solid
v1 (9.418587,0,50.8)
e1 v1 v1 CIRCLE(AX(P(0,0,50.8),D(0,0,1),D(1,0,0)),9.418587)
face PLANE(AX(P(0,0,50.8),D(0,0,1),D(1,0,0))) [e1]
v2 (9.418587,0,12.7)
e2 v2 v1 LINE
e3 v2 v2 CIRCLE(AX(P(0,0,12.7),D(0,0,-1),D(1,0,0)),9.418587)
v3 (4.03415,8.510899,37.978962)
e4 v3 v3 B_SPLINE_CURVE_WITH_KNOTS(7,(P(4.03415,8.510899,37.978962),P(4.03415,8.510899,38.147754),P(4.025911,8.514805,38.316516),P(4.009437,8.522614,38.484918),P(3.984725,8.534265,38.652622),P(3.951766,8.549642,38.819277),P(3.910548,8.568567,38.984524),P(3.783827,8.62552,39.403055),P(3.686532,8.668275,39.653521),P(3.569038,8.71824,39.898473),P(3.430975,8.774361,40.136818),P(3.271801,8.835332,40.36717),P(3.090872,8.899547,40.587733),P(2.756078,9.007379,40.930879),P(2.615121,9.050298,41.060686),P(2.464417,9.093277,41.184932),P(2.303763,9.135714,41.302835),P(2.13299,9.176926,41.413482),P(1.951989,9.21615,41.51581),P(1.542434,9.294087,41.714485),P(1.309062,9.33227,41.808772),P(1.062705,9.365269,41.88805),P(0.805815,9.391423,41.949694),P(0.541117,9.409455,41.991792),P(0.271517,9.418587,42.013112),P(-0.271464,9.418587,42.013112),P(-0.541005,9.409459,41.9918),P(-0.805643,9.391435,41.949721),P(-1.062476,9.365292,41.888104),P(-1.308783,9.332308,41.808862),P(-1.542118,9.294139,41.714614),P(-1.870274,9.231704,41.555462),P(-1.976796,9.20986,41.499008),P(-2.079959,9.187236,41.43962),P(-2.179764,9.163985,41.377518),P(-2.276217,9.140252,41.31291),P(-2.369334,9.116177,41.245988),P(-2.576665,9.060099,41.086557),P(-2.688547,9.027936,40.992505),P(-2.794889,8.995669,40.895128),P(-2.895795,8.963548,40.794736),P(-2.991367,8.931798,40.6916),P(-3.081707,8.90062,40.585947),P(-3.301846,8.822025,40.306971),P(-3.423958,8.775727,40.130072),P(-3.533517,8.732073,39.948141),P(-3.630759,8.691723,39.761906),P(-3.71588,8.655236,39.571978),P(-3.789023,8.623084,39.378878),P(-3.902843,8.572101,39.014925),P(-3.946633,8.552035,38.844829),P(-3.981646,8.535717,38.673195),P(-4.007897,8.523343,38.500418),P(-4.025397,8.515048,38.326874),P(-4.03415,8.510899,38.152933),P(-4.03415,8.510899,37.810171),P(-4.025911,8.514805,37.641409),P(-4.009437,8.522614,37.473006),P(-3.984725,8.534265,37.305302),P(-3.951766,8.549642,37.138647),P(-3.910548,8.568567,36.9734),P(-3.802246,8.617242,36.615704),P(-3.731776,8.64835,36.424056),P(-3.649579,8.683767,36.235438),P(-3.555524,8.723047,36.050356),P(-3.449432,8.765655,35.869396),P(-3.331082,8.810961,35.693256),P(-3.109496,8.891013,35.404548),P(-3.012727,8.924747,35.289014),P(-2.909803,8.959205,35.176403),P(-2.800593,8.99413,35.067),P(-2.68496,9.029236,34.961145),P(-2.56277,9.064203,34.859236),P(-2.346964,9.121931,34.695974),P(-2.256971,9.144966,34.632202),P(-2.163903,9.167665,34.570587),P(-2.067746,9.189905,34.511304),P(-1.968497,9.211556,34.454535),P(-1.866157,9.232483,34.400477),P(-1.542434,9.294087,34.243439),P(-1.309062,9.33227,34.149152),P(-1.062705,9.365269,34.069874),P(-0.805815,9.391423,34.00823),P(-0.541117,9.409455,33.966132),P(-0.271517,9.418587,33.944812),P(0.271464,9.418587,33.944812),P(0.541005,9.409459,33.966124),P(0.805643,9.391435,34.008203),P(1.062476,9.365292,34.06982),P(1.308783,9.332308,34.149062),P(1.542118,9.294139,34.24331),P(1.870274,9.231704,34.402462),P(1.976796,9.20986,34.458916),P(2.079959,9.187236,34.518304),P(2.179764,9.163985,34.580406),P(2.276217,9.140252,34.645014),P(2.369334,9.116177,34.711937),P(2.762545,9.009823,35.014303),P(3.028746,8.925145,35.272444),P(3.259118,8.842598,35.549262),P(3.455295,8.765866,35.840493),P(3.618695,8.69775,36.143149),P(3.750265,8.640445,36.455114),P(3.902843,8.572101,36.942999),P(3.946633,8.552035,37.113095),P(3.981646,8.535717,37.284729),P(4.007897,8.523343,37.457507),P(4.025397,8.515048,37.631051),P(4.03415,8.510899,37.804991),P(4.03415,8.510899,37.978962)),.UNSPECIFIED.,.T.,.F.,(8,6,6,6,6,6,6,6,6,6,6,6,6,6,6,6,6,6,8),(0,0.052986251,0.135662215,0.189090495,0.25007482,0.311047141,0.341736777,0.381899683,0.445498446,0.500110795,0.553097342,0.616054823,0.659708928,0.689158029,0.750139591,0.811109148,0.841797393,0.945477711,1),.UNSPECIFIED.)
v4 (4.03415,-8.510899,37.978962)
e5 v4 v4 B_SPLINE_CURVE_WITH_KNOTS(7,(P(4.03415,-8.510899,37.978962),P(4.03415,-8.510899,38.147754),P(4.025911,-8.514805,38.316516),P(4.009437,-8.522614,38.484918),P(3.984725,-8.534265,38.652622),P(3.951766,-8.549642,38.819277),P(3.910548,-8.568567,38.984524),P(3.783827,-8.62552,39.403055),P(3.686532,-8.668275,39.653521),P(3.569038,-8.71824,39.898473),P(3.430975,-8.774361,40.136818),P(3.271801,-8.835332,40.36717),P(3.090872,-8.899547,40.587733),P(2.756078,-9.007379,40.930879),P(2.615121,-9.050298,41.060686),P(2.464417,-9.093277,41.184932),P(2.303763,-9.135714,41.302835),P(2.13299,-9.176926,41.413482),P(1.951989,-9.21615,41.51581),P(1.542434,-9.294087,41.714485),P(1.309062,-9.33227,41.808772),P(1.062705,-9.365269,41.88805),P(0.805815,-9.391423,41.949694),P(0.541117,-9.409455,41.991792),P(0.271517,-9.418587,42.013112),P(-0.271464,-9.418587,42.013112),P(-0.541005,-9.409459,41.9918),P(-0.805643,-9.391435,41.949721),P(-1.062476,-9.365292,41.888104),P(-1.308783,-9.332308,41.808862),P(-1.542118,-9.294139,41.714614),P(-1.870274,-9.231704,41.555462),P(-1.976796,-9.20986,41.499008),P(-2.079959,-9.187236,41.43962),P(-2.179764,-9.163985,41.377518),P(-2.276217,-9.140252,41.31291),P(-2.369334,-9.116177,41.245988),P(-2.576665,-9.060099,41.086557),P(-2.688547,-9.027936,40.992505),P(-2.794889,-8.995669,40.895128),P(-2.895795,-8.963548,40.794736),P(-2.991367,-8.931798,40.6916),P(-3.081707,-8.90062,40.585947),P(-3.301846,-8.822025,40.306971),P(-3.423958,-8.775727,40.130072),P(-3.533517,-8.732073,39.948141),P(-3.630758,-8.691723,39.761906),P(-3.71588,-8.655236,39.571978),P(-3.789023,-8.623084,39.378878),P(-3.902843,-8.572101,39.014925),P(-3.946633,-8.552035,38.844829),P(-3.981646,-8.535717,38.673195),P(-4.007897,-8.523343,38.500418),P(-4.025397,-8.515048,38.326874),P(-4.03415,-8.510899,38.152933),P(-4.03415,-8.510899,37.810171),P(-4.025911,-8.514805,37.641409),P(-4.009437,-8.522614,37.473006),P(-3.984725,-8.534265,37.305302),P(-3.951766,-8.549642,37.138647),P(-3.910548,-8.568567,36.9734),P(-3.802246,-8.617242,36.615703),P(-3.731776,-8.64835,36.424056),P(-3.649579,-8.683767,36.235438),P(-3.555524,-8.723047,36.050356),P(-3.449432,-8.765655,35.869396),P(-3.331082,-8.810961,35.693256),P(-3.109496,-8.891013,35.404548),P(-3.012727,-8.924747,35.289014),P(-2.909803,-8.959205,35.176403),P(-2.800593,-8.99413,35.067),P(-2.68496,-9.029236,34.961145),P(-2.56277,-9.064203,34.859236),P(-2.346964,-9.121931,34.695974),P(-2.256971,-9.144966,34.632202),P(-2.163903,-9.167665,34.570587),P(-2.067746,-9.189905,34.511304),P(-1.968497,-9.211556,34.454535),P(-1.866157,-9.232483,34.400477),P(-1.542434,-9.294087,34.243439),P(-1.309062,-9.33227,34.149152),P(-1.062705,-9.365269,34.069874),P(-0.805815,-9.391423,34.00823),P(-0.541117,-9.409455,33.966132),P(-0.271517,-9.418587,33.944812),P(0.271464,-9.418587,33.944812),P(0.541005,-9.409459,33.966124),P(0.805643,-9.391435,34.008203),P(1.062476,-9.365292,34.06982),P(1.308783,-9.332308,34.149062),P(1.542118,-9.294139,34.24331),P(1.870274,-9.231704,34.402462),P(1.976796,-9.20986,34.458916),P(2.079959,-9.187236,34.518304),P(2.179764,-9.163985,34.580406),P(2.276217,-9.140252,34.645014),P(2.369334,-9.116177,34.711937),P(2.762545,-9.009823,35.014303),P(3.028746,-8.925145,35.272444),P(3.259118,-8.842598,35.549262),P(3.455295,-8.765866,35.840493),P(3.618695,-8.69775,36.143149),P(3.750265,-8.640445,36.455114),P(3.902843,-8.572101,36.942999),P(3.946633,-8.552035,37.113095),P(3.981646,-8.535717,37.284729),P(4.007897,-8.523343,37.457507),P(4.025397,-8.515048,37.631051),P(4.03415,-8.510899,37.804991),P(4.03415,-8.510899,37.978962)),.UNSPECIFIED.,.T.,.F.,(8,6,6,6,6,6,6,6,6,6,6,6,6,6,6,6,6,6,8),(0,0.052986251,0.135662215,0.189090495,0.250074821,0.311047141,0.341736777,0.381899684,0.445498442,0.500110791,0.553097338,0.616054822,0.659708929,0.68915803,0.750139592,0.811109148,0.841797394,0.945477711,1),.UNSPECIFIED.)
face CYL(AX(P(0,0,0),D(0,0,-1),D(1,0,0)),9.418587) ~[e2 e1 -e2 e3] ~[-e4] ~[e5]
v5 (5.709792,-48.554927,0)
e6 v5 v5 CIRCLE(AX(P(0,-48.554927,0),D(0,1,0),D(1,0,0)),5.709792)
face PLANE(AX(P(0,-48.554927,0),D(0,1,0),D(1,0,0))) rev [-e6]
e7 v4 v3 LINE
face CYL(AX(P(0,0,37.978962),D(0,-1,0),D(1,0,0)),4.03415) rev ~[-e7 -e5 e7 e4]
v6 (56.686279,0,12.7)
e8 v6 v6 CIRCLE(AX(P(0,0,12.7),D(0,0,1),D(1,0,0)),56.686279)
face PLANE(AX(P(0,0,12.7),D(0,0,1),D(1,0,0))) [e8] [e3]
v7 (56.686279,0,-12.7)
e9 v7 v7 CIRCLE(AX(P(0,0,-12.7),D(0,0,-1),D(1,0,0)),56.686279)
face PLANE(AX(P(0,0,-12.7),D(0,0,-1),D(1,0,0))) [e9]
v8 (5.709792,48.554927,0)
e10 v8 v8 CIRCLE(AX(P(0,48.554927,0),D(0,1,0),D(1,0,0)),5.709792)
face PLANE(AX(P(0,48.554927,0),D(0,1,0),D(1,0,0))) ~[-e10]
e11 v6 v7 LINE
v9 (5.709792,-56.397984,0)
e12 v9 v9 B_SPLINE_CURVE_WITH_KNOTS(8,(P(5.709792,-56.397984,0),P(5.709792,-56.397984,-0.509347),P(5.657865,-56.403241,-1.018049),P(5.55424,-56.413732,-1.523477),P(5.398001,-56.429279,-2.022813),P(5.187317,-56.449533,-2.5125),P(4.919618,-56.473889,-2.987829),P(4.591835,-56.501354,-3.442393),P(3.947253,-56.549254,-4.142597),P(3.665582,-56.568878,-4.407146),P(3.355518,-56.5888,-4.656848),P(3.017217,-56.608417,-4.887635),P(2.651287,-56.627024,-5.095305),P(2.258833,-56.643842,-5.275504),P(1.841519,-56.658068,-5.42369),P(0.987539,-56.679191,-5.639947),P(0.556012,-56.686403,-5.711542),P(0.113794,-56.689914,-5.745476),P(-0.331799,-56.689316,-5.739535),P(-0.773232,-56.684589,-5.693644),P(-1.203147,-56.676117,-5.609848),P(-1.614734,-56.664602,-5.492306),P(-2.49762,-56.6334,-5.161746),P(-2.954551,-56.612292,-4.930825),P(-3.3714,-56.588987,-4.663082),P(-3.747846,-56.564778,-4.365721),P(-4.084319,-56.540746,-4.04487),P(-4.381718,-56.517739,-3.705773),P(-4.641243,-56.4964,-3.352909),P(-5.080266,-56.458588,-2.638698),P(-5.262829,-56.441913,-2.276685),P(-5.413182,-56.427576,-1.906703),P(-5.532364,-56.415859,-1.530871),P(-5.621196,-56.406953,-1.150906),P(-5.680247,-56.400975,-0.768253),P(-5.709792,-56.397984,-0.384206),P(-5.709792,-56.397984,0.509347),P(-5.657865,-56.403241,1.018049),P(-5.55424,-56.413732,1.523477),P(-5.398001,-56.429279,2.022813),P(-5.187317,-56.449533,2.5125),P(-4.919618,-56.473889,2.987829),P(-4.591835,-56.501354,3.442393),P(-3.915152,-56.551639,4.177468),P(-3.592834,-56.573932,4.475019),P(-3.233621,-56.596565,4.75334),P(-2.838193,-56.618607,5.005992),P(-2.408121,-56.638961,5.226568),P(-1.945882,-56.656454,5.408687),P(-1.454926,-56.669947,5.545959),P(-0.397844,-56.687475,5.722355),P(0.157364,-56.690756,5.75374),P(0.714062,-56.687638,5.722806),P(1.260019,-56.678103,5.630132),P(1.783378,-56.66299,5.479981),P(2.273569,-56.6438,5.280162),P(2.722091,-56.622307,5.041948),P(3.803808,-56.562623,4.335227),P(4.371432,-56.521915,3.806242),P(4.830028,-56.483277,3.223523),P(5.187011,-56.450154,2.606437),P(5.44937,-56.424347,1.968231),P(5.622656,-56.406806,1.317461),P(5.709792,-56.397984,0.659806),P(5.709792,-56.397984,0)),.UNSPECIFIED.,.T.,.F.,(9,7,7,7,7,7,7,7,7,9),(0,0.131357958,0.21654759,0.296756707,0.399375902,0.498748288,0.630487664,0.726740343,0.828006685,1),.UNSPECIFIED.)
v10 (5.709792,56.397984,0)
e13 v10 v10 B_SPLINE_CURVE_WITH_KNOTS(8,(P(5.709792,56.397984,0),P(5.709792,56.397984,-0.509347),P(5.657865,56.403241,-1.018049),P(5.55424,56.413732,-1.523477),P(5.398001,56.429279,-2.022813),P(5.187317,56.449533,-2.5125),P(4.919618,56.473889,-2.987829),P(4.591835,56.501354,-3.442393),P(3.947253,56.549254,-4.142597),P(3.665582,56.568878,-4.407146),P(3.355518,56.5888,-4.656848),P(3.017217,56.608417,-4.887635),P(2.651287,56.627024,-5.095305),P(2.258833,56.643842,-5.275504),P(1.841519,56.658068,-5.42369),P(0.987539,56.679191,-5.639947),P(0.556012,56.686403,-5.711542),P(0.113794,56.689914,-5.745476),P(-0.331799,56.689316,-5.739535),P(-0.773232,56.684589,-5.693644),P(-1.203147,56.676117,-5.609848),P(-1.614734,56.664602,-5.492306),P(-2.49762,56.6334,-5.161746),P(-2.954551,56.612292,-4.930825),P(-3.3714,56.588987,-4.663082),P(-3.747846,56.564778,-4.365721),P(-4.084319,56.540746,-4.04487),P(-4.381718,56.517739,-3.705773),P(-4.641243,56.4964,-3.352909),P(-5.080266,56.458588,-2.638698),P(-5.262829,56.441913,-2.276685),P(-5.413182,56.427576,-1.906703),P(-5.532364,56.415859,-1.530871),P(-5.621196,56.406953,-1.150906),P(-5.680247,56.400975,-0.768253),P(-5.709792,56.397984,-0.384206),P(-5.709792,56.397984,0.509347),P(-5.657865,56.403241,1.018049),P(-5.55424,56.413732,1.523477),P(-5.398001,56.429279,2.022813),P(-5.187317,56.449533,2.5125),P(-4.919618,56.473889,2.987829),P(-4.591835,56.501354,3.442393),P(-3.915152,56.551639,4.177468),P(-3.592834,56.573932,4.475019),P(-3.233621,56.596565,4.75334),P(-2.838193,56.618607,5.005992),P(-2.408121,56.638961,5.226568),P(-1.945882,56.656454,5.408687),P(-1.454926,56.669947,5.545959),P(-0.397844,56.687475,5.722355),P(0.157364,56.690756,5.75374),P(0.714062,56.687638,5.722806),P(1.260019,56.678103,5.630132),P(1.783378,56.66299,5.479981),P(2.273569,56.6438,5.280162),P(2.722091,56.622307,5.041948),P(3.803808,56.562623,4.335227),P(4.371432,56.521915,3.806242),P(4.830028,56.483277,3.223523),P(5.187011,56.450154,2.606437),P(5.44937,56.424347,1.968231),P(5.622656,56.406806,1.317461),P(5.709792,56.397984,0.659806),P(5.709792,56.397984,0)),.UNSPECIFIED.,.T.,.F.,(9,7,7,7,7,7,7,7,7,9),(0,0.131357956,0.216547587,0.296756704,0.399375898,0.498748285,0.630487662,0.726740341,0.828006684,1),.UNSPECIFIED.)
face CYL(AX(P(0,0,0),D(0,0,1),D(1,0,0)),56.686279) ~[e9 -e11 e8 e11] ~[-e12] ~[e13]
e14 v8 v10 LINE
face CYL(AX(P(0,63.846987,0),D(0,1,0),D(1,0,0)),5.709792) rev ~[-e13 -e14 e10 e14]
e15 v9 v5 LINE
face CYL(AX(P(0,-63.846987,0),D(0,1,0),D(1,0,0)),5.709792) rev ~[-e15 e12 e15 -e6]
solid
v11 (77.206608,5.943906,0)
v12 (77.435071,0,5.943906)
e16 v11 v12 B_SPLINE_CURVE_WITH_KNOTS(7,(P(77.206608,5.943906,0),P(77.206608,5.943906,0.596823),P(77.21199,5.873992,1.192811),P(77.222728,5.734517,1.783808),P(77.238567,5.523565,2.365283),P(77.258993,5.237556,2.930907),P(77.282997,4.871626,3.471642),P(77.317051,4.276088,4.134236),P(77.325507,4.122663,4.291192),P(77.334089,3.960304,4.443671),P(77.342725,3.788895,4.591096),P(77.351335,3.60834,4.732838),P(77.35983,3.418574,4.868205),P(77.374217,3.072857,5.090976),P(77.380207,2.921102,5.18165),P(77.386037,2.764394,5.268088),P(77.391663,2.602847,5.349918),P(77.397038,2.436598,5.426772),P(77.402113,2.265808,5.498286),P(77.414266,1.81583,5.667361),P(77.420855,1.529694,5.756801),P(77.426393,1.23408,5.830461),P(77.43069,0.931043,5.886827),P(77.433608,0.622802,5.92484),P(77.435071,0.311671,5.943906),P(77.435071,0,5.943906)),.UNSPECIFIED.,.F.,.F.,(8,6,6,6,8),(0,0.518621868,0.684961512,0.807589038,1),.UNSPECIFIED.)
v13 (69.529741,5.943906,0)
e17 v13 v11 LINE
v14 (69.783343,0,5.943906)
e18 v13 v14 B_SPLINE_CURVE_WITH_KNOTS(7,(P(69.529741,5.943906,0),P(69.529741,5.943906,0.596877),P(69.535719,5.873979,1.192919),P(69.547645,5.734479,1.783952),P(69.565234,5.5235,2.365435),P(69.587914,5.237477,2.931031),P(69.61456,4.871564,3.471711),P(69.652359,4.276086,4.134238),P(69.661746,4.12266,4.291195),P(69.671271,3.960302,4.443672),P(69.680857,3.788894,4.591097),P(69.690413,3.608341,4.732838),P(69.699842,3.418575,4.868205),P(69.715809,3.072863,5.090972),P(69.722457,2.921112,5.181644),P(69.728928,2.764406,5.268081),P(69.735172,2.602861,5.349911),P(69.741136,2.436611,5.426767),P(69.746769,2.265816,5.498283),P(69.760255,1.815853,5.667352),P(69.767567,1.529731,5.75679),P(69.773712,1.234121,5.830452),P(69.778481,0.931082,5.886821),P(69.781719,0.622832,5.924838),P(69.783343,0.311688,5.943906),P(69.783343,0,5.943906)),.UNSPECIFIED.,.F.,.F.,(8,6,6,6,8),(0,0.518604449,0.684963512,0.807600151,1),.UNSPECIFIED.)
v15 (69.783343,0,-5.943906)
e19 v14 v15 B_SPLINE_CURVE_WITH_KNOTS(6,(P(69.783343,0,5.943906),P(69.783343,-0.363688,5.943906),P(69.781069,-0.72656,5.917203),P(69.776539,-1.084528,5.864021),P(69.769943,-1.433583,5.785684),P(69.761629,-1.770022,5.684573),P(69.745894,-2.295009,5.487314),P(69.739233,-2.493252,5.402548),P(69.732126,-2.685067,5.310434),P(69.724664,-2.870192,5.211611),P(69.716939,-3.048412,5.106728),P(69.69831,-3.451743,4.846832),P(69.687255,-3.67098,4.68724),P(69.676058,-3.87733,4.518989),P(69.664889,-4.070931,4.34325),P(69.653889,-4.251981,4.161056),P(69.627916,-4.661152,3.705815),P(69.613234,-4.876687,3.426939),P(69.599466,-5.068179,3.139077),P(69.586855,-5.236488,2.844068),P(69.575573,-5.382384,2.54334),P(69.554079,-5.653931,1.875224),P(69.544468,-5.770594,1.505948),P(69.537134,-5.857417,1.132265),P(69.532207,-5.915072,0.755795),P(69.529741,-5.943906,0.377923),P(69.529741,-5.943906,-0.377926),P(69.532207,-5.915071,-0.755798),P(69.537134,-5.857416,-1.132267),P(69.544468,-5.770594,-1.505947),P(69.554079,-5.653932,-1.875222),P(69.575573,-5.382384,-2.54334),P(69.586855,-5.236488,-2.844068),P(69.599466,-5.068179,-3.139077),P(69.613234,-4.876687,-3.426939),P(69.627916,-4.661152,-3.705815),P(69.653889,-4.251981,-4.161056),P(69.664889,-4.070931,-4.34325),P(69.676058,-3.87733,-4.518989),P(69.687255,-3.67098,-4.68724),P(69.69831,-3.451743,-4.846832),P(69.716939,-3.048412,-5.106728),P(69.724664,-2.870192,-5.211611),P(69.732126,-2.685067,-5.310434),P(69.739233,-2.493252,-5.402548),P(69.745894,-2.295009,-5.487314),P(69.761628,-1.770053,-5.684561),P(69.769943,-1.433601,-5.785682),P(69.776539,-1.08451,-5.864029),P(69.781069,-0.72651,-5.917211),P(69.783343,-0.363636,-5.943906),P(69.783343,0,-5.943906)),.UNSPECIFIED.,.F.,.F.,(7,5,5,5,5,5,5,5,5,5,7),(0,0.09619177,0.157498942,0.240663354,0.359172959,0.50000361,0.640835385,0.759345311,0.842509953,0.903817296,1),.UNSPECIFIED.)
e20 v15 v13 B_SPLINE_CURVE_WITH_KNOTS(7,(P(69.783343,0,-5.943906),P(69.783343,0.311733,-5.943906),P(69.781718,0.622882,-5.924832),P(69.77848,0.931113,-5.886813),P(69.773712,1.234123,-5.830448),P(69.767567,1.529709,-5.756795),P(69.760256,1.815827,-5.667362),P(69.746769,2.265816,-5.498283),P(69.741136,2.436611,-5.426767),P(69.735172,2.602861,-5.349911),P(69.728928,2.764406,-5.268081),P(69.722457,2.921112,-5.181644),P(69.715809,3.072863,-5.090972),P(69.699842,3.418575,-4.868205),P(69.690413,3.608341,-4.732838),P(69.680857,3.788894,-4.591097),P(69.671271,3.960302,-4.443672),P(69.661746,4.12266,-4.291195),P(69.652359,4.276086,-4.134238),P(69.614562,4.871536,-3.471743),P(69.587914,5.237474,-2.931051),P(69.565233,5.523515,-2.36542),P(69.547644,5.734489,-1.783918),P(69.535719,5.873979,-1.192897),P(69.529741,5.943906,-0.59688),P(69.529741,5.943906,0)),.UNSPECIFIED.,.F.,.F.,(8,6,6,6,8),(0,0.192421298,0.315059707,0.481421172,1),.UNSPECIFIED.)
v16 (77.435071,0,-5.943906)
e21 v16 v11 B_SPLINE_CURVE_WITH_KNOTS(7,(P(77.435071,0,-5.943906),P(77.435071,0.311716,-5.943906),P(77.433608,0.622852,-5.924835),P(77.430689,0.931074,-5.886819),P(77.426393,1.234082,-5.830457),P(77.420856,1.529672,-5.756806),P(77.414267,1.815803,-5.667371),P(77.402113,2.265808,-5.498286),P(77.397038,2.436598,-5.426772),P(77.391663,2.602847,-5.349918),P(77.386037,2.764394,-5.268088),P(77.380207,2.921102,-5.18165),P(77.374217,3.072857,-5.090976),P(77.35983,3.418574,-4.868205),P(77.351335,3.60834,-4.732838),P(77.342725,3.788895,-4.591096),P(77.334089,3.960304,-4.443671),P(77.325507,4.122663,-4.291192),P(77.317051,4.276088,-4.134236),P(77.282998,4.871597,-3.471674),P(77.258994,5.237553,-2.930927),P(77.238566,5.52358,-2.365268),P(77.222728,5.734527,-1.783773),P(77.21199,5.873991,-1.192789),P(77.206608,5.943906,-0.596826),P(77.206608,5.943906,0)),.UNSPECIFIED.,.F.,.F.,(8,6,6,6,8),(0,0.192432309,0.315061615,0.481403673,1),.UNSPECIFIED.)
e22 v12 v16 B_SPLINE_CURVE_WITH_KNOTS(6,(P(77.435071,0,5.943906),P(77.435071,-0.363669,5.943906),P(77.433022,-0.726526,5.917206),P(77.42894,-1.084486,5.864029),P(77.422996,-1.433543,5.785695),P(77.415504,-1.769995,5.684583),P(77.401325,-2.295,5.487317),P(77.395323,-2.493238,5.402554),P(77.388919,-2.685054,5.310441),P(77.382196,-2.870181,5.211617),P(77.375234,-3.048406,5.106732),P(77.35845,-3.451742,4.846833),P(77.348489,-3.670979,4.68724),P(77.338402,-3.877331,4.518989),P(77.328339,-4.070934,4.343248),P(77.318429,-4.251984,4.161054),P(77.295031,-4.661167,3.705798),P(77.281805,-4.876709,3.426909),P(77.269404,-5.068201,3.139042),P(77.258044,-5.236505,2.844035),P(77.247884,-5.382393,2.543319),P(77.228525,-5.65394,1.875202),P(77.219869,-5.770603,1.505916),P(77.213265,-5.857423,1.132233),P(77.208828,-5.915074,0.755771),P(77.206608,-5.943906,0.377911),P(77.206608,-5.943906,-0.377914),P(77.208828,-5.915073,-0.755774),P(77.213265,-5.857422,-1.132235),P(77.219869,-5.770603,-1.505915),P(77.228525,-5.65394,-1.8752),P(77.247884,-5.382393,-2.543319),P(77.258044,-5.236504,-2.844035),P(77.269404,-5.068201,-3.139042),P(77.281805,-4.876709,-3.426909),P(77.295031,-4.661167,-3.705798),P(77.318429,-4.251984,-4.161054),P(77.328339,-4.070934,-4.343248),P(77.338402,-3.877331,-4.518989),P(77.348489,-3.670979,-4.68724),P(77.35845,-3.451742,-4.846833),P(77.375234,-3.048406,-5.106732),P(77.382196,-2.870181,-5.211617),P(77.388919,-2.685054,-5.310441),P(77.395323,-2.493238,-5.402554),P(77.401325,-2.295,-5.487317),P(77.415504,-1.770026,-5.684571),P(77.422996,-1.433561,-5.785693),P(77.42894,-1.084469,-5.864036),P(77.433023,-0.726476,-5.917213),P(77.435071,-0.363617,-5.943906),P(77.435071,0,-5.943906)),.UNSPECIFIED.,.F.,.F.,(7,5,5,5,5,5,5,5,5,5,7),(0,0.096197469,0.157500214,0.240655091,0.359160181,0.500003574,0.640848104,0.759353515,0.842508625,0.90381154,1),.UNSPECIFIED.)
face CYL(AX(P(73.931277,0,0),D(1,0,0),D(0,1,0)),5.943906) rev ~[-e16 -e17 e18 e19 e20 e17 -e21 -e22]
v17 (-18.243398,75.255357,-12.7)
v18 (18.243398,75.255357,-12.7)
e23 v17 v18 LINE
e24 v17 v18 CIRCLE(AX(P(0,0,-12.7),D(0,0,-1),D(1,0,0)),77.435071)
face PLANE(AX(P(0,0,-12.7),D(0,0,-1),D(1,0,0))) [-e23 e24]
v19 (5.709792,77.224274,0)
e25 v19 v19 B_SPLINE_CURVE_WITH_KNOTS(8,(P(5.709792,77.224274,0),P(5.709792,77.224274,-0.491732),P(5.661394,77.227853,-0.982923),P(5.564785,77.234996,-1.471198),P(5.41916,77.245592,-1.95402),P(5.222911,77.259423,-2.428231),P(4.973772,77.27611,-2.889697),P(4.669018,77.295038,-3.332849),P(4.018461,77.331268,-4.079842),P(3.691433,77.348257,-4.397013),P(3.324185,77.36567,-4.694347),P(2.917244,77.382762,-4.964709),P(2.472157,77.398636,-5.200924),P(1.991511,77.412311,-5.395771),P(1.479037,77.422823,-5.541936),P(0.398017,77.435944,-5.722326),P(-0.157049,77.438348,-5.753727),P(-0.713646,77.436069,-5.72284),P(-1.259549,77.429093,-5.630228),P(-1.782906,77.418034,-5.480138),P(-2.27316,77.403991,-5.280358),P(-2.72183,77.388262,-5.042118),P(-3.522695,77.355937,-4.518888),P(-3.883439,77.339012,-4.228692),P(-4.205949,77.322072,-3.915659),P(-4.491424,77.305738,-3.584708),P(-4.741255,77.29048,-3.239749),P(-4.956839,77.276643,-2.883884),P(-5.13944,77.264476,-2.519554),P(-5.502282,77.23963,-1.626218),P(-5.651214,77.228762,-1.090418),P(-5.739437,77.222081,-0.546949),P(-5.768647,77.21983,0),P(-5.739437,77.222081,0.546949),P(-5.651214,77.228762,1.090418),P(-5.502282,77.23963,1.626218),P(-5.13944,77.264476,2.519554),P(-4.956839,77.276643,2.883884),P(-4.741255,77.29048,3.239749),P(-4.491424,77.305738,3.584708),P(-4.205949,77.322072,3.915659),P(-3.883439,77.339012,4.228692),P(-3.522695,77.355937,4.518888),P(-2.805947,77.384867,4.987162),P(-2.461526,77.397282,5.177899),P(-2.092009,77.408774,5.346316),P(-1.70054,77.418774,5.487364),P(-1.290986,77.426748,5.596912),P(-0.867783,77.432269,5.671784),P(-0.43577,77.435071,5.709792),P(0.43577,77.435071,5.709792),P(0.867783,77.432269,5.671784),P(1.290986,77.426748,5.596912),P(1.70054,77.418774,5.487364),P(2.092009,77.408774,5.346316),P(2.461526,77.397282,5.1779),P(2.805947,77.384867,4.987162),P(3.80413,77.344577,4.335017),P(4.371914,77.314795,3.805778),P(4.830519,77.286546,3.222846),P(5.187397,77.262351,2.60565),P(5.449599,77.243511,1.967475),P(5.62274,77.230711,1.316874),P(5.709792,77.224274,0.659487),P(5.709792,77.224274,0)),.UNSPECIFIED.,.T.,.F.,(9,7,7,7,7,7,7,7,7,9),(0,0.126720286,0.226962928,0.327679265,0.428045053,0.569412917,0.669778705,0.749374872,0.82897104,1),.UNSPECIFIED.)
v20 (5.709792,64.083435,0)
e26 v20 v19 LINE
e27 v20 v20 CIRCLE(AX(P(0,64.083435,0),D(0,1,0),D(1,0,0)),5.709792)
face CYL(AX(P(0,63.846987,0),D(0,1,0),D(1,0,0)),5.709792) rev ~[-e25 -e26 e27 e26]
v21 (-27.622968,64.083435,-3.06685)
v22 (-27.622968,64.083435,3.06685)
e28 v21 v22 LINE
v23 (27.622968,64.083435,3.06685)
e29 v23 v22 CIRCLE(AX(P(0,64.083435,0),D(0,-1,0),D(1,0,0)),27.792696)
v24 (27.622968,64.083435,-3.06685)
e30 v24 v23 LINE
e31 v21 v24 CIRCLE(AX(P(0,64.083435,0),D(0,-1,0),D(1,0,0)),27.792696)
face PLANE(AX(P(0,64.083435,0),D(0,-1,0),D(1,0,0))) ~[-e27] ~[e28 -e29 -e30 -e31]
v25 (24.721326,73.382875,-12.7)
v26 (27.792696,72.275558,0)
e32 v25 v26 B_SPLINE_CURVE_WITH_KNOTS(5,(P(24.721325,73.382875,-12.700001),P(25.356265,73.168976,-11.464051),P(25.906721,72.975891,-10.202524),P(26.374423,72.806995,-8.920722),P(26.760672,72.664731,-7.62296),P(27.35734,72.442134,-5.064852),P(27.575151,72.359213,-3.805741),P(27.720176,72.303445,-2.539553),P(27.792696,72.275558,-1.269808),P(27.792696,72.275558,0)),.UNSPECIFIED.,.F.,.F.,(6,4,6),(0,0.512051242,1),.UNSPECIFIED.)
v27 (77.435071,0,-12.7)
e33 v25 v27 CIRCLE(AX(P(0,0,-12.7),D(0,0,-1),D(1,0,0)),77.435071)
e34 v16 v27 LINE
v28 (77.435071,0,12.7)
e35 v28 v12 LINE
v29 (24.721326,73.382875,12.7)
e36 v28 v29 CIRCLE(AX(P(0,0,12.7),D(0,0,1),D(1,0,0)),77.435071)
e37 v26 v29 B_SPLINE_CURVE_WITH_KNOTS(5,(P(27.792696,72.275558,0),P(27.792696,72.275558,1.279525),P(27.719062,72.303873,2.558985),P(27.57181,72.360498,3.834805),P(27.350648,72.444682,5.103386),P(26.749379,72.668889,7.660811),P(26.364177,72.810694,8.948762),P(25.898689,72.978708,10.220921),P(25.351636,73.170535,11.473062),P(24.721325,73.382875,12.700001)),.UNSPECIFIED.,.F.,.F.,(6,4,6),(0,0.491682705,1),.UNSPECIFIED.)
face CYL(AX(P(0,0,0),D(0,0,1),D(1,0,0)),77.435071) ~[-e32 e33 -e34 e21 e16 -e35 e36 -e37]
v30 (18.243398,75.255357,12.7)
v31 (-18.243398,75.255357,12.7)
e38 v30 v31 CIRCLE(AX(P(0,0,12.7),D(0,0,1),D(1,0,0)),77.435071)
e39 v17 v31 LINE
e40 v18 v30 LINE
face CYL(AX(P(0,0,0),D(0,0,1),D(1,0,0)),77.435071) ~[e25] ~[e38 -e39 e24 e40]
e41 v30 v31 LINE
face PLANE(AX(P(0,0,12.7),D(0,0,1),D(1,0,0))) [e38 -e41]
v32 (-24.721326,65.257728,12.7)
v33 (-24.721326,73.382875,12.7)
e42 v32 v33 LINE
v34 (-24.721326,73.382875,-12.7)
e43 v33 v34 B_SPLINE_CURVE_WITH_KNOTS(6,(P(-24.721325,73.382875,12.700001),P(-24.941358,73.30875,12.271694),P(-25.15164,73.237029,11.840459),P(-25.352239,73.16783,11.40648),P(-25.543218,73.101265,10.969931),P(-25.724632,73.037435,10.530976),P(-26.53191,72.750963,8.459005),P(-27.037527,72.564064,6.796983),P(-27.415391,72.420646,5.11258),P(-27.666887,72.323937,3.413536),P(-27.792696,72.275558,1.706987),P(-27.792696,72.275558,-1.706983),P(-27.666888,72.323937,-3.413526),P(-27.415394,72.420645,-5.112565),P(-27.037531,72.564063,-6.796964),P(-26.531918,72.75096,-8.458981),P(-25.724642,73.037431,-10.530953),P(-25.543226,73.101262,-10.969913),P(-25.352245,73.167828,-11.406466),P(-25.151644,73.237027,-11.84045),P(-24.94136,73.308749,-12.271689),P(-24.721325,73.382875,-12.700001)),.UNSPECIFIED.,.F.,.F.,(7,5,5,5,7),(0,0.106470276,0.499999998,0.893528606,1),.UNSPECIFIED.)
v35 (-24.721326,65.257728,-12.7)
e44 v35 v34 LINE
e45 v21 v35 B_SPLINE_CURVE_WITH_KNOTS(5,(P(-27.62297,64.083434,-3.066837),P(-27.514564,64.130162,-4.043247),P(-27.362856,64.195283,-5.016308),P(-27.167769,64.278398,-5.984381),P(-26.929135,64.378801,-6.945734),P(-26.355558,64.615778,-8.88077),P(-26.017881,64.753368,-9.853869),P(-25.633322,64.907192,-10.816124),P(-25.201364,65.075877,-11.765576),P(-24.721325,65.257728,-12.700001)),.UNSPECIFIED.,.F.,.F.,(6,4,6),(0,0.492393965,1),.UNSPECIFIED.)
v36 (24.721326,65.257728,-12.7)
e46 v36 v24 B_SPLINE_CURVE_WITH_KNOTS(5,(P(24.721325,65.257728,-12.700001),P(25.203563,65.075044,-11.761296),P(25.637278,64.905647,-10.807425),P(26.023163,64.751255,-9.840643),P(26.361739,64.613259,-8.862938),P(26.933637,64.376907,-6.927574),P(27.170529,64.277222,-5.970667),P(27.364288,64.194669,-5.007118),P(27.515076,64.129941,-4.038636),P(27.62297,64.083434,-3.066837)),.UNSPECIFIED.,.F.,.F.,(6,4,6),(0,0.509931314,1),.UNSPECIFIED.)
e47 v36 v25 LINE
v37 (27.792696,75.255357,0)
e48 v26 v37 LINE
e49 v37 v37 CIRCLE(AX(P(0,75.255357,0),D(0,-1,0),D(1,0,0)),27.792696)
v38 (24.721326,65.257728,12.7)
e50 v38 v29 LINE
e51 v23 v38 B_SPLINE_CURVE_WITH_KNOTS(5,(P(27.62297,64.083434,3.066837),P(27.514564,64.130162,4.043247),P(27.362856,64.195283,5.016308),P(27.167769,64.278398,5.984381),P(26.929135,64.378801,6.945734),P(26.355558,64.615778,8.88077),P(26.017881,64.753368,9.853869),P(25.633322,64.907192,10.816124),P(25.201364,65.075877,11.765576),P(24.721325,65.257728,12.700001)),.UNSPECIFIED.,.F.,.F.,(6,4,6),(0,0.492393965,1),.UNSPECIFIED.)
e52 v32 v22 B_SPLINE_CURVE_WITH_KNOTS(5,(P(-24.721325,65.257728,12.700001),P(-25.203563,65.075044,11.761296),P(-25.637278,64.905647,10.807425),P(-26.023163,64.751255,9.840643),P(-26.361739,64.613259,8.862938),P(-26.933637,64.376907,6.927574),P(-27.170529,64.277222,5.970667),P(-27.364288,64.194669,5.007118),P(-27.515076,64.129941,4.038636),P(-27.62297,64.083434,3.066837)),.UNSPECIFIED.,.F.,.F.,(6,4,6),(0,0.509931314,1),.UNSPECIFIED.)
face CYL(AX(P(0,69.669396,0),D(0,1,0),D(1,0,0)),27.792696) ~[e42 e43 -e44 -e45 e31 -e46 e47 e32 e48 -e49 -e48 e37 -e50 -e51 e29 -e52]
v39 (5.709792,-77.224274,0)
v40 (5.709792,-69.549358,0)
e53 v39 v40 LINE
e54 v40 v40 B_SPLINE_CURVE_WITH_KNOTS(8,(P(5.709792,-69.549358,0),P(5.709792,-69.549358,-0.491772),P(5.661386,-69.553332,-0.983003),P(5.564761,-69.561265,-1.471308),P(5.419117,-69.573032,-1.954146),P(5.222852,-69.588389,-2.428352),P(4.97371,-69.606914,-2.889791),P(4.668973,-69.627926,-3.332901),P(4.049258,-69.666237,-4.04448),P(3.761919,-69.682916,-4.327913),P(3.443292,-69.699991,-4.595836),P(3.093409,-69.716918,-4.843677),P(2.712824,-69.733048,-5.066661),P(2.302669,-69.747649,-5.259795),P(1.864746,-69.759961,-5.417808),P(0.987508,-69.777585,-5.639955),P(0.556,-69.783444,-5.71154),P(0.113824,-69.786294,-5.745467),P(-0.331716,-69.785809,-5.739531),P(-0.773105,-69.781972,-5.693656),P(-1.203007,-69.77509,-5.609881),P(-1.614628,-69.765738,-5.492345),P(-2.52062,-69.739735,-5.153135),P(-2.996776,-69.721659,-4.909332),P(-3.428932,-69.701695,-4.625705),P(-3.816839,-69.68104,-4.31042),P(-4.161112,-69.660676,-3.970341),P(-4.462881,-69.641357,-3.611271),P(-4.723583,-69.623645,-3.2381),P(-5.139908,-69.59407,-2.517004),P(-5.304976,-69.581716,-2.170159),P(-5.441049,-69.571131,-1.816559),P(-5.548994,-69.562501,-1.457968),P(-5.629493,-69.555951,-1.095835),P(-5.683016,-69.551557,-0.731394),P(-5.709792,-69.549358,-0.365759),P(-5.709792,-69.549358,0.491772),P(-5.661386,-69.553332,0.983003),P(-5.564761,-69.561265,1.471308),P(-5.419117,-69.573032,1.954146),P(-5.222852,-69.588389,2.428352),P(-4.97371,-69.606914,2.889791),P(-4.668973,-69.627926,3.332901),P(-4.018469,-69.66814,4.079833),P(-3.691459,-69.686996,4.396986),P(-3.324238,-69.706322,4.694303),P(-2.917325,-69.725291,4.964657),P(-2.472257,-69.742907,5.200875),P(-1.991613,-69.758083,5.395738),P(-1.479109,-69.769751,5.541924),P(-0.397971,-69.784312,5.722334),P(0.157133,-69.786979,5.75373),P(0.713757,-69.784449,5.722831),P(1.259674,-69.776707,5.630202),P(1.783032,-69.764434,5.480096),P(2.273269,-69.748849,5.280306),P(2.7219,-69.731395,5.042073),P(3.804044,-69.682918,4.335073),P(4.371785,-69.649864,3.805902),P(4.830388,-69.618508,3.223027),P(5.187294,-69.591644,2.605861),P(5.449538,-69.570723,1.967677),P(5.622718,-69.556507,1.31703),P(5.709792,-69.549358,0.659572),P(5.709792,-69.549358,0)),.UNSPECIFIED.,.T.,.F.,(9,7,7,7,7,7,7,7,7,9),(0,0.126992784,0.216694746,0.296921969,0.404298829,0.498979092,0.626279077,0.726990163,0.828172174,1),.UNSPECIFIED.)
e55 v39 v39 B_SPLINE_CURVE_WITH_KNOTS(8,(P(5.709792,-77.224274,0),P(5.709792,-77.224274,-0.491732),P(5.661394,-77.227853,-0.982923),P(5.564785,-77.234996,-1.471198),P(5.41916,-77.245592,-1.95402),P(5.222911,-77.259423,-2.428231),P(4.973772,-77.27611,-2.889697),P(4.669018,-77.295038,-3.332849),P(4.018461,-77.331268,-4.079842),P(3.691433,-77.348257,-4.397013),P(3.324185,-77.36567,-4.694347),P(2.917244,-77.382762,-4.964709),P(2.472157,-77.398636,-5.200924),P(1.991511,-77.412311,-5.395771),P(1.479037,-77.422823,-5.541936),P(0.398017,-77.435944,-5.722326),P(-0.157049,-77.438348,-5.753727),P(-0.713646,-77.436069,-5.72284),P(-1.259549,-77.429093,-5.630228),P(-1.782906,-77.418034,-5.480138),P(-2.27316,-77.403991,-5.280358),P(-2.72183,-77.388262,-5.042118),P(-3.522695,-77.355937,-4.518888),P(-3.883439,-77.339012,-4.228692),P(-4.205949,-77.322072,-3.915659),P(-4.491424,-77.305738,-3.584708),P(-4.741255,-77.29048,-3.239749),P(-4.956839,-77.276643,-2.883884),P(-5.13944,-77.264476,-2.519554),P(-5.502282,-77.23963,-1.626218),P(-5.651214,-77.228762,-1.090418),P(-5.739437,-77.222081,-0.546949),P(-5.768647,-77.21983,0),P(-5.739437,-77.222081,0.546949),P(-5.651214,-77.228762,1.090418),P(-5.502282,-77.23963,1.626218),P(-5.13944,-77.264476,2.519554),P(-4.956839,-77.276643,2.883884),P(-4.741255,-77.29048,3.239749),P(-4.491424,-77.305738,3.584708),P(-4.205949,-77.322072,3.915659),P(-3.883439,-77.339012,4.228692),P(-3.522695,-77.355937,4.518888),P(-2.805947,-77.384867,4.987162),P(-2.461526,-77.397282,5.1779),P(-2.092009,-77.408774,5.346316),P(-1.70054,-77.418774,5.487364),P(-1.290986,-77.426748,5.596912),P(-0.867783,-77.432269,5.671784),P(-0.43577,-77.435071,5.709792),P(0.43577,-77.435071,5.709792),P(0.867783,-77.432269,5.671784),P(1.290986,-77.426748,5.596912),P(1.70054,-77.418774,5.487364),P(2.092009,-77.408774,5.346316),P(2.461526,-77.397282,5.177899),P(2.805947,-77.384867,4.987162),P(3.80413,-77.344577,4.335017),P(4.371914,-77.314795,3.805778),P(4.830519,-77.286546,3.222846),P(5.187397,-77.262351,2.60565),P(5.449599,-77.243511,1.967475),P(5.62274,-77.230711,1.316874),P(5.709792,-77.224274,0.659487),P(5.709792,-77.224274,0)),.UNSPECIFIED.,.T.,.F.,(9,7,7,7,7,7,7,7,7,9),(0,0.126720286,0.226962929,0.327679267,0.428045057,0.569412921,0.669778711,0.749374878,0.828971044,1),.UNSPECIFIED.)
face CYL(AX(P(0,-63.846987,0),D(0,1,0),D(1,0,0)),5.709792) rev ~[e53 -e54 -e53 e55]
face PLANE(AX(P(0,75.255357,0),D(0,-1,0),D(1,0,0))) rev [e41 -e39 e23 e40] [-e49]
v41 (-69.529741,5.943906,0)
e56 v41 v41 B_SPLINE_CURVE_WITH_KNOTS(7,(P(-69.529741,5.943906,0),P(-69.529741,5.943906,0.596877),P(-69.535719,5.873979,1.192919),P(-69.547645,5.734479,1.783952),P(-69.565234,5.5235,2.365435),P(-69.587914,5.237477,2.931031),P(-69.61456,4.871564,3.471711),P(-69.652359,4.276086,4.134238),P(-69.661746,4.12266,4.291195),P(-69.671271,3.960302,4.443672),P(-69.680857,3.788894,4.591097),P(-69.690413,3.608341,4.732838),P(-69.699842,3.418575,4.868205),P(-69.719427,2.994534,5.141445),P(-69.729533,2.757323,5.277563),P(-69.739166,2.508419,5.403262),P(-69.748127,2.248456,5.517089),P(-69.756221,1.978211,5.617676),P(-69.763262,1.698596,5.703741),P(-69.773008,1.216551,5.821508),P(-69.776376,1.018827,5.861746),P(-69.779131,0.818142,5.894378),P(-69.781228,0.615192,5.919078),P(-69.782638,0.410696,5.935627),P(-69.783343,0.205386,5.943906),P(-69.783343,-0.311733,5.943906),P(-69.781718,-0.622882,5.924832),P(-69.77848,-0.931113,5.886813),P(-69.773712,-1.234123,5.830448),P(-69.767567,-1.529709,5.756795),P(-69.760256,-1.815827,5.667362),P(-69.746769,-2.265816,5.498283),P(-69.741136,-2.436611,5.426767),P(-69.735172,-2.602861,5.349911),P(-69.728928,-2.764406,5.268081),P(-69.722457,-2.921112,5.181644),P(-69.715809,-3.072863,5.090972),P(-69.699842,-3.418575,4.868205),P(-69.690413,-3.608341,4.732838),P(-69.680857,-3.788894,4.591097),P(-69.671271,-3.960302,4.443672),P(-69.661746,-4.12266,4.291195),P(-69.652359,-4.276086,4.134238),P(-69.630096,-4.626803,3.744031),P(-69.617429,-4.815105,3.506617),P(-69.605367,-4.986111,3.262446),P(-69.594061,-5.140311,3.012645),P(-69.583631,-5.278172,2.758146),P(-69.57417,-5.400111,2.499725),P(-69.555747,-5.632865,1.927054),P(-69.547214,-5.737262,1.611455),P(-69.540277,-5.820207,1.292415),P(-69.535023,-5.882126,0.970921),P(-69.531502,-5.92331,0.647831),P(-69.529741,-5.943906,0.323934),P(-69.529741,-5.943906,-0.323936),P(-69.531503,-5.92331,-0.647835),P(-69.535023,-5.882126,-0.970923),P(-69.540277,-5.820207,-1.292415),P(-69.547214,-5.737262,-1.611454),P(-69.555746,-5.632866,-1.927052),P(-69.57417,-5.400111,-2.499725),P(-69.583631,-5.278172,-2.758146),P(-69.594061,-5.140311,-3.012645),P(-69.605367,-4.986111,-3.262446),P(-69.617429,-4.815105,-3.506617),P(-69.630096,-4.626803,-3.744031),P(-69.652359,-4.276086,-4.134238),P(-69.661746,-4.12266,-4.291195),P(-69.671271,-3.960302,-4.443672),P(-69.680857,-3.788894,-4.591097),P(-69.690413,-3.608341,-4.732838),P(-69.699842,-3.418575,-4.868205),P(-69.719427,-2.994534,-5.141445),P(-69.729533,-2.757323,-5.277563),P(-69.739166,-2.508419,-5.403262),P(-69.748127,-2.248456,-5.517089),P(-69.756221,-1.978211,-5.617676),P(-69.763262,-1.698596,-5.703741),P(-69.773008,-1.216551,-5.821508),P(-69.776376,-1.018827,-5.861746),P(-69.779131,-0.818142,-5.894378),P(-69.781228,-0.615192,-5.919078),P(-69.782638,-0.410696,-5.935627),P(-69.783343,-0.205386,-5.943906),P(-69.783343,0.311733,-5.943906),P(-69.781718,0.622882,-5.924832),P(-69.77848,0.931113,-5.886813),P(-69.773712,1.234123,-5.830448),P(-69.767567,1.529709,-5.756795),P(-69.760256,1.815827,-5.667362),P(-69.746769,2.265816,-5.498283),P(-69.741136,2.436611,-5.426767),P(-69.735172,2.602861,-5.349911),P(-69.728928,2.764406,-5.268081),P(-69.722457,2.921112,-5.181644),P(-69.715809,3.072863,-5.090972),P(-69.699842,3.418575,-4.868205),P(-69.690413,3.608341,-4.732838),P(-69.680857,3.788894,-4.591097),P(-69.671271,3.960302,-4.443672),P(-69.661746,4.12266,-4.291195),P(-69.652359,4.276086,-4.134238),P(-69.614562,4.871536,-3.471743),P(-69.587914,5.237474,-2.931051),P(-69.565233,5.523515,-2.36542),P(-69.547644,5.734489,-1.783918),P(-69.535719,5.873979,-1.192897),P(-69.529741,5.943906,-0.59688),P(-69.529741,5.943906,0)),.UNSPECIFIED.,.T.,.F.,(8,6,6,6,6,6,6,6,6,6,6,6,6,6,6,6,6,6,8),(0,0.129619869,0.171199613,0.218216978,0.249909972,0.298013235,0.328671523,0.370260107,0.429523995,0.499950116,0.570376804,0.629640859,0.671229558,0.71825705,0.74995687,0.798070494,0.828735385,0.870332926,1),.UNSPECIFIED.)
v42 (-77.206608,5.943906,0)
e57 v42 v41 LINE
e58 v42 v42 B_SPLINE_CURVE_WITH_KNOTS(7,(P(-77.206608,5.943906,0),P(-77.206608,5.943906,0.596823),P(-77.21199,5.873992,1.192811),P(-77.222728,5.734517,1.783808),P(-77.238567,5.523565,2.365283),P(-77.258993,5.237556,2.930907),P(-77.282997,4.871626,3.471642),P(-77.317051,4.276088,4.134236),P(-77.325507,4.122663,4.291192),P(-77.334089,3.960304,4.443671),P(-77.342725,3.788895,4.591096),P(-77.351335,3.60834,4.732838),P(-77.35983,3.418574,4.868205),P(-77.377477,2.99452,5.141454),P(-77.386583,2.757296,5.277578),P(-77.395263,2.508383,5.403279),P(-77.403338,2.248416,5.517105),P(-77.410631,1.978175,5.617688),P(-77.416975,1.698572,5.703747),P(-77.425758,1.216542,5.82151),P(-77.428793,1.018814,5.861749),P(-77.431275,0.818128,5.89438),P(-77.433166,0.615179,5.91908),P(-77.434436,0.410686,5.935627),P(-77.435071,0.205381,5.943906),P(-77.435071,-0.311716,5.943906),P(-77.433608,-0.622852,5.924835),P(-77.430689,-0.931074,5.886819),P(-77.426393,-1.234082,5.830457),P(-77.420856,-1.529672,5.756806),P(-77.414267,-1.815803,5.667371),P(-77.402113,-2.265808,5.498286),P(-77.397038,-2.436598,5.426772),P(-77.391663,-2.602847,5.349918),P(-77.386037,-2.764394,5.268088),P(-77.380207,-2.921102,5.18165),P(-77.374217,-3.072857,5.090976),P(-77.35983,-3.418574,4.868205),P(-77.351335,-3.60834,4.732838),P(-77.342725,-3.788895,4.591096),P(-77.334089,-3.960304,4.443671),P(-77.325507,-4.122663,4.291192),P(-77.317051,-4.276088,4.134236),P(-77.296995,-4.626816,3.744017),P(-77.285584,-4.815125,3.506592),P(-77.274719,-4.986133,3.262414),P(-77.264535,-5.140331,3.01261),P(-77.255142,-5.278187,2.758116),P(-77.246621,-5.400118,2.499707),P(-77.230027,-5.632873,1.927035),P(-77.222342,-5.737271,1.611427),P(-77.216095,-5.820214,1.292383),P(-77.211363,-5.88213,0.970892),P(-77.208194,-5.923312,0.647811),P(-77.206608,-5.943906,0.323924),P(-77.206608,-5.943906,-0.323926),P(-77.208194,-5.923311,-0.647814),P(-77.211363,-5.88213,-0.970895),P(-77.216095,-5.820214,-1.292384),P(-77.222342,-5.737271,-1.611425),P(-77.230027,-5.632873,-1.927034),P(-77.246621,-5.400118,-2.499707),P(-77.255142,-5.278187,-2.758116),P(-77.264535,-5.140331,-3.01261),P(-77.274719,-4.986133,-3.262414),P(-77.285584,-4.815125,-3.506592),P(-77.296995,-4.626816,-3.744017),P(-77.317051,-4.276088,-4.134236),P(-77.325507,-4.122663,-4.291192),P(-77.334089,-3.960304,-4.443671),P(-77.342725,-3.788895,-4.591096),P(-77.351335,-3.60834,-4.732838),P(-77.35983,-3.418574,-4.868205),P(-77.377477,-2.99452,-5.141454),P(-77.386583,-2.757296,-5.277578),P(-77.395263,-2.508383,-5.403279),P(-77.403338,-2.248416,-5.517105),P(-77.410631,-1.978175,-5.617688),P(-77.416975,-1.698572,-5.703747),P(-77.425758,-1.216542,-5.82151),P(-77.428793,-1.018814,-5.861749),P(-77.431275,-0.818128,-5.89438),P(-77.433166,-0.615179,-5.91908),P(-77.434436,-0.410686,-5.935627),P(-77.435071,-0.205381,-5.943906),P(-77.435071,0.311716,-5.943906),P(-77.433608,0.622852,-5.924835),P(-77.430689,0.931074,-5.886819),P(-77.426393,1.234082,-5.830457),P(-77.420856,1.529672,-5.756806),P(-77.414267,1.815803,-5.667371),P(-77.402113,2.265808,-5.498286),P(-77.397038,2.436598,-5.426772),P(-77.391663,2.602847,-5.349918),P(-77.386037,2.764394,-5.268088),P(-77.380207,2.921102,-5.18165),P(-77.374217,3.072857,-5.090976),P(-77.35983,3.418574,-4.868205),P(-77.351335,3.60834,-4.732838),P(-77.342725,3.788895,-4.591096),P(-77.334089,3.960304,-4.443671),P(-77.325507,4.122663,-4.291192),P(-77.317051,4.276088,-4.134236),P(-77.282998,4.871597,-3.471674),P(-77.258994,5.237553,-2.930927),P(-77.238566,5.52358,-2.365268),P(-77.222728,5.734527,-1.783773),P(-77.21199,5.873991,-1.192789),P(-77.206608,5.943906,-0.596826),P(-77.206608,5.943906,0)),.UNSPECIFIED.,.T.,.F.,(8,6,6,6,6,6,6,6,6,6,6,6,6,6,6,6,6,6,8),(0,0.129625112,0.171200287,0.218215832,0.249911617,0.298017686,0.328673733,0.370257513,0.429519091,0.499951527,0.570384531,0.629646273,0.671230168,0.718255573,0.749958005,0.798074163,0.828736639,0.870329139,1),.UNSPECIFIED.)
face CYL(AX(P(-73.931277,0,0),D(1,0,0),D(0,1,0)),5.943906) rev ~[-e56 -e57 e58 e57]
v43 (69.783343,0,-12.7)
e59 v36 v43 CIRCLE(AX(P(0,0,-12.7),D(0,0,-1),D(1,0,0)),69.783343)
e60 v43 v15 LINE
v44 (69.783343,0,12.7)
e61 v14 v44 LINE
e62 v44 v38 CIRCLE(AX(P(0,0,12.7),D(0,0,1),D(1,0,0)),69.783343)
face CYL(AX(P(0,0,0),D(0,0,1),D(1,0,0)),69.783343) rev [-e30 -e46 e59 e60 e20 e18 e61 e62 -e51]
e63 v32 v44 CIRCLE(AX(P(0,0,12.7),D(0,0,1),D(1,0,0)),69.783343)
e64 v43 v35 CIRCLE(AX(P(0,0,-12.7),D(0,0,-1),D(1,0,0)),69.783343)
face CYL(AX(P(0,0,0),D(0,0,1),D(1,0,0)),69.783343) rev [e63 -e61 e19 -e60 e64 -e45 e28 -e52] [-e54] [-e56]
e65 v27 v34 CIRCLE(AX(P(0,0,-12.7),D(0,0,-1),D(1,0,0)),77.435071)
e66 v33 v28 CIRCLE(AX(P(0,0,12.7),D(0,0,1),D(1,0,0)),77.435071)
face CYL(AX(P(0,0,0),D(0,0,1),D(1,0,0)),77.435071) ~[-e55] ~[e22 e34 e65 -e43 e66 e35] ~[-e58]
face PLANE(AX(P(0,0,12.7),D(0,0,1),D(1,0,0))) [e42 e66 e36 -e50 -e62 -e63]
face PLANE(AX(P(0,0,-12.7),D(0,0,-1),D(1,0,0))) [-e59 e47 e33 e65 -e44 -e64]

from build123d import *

# Parameters (mm, degrees)
F0_R           = 77.4350714905
F0_R_2         = 69.7833431062
F1_DEPTH       = 12.7
F0_R_3         = 56.6862794468
F1_FACE_R      = 77.4350714905
F1_FACE_R_2    = 69.7833431062
F1_FACE_R_3    = 56.6862794468
F1_FACE1_R     = 77.4350714905
F1_FACE1_R_2   = 69.7833431062
F3_DEPTH       = 12.7
F2_W           = 10.581061244
F2_H           = 5.9439064935
F5_W           = 27.7926959097
F5_H           = 11.1719220877
F7_W           = 5.7097924873
F7_H           = 30.5841192603
F9_R           = 9.4185866686
F10_DEPTH      = 50.8
F11_R          = 4.0341501012
F12_DEPTH      = 12.7
F12_DEPTH_BACK = 12.7


with BuildPart() as f1:
    # F0 (on Top) → F1 (new body)
    with BuildSketch(Plane.XY):
        Circle(F0_R)
        Circle(F0_R_2, mode=Mode.SUBTRACT)
    extrude(amount=F1_DEPTH)



with BuildPart() as f1b:
    # F0 (on Top) → F1, piece 2 (new body)
    with BuildSketch(Plane.XY):
        Circle(F0_R_3)
    extrude(amount=F1_DEPTH)


with BuildPart() as f1_1:
    add(f1.part)

    add(f1b.part)  # F3 merges F1b
    # F1_face (on face) + F1_face1 (on face) → F3 (join)
    with BuildSketch(Plane(origin=(0, 0, 0), x_dir=(1, 0, 0), z_dir=(0, 0, -1))):
        Circle(F1_FACE_R)
        Circle(F1_FACE_R_2, mode=Mode.SUBTRACT)
        Circle(F1_FACE_R_3)
    with BuildSketch(Plane.XY.offset(12.7)):
        Circle(F1_FACE1_R)
        Circle(F1_FACE1_R_2, mode=Mode.SUBTRACT)
    extrude(amount=F3_DEPTH, dir=(0, 0, -1))

    # F2 (on Top) → F4 (revolve, cut)
    with BuildSketch(Plane.XY):
        with Locations((-73.9312767982, 2.9719532467)):
            Rectangle(F2_W, F2_H)
        with Locations((73.9312767982, 2.9719532467)):
            Rectangle(F2_W, F2_H)
    revolve(axis=Axis((-73.9312767982, 0, 0), (1, 0, 0)), mode=Mode.SUBTRACT)

    # F5 (on Top) → F6 (revolve)
    with BuildSketch(Plane.XY):
        with Locations((13.8963479549, 69.6693956852)):
            Rectangle(F5_W, F5_H)
    revolve(axis=Axis((0, 69.6693956852, 0), (0, -1, 0)))

    # F7 (on Top) → F8 (revolve, cut)
    with BuildSketch(Plane.XY):
        with Locations((2.8548962437, 63.8469867408)):
            Rectangle(F7_W, F7_H)
        with Locations((2.8548962437, -63.8469867408)):
            Rectangle(F7_W, F7_H)
    revolve(axis=Axis((0, 63.8469867408, 0), (0, 1, 0)), mode=Mode.SUBTRACT)

    # F9 (on Top) → F10 (join)
    with BuildSketch(Plane.XY):
        Circle(F9_R)
    extrude(amount=F10_DEPTH)

    # F11 (on Front) → F12 (cut, two sides)
    with BuildSketch(Plane.XZ) as f12_sk:
        with Locations((0, 37.9789620638)):
            Circle(F11_R)
    extrude(amount=F12_DEPTH, mode=Mode.SUBTRACT)
    extrude(f12_sk.sketch, amount=-F12_DEPTH_BACK, mode=Mode.SUBTRACT)


solid = f1_1.part
